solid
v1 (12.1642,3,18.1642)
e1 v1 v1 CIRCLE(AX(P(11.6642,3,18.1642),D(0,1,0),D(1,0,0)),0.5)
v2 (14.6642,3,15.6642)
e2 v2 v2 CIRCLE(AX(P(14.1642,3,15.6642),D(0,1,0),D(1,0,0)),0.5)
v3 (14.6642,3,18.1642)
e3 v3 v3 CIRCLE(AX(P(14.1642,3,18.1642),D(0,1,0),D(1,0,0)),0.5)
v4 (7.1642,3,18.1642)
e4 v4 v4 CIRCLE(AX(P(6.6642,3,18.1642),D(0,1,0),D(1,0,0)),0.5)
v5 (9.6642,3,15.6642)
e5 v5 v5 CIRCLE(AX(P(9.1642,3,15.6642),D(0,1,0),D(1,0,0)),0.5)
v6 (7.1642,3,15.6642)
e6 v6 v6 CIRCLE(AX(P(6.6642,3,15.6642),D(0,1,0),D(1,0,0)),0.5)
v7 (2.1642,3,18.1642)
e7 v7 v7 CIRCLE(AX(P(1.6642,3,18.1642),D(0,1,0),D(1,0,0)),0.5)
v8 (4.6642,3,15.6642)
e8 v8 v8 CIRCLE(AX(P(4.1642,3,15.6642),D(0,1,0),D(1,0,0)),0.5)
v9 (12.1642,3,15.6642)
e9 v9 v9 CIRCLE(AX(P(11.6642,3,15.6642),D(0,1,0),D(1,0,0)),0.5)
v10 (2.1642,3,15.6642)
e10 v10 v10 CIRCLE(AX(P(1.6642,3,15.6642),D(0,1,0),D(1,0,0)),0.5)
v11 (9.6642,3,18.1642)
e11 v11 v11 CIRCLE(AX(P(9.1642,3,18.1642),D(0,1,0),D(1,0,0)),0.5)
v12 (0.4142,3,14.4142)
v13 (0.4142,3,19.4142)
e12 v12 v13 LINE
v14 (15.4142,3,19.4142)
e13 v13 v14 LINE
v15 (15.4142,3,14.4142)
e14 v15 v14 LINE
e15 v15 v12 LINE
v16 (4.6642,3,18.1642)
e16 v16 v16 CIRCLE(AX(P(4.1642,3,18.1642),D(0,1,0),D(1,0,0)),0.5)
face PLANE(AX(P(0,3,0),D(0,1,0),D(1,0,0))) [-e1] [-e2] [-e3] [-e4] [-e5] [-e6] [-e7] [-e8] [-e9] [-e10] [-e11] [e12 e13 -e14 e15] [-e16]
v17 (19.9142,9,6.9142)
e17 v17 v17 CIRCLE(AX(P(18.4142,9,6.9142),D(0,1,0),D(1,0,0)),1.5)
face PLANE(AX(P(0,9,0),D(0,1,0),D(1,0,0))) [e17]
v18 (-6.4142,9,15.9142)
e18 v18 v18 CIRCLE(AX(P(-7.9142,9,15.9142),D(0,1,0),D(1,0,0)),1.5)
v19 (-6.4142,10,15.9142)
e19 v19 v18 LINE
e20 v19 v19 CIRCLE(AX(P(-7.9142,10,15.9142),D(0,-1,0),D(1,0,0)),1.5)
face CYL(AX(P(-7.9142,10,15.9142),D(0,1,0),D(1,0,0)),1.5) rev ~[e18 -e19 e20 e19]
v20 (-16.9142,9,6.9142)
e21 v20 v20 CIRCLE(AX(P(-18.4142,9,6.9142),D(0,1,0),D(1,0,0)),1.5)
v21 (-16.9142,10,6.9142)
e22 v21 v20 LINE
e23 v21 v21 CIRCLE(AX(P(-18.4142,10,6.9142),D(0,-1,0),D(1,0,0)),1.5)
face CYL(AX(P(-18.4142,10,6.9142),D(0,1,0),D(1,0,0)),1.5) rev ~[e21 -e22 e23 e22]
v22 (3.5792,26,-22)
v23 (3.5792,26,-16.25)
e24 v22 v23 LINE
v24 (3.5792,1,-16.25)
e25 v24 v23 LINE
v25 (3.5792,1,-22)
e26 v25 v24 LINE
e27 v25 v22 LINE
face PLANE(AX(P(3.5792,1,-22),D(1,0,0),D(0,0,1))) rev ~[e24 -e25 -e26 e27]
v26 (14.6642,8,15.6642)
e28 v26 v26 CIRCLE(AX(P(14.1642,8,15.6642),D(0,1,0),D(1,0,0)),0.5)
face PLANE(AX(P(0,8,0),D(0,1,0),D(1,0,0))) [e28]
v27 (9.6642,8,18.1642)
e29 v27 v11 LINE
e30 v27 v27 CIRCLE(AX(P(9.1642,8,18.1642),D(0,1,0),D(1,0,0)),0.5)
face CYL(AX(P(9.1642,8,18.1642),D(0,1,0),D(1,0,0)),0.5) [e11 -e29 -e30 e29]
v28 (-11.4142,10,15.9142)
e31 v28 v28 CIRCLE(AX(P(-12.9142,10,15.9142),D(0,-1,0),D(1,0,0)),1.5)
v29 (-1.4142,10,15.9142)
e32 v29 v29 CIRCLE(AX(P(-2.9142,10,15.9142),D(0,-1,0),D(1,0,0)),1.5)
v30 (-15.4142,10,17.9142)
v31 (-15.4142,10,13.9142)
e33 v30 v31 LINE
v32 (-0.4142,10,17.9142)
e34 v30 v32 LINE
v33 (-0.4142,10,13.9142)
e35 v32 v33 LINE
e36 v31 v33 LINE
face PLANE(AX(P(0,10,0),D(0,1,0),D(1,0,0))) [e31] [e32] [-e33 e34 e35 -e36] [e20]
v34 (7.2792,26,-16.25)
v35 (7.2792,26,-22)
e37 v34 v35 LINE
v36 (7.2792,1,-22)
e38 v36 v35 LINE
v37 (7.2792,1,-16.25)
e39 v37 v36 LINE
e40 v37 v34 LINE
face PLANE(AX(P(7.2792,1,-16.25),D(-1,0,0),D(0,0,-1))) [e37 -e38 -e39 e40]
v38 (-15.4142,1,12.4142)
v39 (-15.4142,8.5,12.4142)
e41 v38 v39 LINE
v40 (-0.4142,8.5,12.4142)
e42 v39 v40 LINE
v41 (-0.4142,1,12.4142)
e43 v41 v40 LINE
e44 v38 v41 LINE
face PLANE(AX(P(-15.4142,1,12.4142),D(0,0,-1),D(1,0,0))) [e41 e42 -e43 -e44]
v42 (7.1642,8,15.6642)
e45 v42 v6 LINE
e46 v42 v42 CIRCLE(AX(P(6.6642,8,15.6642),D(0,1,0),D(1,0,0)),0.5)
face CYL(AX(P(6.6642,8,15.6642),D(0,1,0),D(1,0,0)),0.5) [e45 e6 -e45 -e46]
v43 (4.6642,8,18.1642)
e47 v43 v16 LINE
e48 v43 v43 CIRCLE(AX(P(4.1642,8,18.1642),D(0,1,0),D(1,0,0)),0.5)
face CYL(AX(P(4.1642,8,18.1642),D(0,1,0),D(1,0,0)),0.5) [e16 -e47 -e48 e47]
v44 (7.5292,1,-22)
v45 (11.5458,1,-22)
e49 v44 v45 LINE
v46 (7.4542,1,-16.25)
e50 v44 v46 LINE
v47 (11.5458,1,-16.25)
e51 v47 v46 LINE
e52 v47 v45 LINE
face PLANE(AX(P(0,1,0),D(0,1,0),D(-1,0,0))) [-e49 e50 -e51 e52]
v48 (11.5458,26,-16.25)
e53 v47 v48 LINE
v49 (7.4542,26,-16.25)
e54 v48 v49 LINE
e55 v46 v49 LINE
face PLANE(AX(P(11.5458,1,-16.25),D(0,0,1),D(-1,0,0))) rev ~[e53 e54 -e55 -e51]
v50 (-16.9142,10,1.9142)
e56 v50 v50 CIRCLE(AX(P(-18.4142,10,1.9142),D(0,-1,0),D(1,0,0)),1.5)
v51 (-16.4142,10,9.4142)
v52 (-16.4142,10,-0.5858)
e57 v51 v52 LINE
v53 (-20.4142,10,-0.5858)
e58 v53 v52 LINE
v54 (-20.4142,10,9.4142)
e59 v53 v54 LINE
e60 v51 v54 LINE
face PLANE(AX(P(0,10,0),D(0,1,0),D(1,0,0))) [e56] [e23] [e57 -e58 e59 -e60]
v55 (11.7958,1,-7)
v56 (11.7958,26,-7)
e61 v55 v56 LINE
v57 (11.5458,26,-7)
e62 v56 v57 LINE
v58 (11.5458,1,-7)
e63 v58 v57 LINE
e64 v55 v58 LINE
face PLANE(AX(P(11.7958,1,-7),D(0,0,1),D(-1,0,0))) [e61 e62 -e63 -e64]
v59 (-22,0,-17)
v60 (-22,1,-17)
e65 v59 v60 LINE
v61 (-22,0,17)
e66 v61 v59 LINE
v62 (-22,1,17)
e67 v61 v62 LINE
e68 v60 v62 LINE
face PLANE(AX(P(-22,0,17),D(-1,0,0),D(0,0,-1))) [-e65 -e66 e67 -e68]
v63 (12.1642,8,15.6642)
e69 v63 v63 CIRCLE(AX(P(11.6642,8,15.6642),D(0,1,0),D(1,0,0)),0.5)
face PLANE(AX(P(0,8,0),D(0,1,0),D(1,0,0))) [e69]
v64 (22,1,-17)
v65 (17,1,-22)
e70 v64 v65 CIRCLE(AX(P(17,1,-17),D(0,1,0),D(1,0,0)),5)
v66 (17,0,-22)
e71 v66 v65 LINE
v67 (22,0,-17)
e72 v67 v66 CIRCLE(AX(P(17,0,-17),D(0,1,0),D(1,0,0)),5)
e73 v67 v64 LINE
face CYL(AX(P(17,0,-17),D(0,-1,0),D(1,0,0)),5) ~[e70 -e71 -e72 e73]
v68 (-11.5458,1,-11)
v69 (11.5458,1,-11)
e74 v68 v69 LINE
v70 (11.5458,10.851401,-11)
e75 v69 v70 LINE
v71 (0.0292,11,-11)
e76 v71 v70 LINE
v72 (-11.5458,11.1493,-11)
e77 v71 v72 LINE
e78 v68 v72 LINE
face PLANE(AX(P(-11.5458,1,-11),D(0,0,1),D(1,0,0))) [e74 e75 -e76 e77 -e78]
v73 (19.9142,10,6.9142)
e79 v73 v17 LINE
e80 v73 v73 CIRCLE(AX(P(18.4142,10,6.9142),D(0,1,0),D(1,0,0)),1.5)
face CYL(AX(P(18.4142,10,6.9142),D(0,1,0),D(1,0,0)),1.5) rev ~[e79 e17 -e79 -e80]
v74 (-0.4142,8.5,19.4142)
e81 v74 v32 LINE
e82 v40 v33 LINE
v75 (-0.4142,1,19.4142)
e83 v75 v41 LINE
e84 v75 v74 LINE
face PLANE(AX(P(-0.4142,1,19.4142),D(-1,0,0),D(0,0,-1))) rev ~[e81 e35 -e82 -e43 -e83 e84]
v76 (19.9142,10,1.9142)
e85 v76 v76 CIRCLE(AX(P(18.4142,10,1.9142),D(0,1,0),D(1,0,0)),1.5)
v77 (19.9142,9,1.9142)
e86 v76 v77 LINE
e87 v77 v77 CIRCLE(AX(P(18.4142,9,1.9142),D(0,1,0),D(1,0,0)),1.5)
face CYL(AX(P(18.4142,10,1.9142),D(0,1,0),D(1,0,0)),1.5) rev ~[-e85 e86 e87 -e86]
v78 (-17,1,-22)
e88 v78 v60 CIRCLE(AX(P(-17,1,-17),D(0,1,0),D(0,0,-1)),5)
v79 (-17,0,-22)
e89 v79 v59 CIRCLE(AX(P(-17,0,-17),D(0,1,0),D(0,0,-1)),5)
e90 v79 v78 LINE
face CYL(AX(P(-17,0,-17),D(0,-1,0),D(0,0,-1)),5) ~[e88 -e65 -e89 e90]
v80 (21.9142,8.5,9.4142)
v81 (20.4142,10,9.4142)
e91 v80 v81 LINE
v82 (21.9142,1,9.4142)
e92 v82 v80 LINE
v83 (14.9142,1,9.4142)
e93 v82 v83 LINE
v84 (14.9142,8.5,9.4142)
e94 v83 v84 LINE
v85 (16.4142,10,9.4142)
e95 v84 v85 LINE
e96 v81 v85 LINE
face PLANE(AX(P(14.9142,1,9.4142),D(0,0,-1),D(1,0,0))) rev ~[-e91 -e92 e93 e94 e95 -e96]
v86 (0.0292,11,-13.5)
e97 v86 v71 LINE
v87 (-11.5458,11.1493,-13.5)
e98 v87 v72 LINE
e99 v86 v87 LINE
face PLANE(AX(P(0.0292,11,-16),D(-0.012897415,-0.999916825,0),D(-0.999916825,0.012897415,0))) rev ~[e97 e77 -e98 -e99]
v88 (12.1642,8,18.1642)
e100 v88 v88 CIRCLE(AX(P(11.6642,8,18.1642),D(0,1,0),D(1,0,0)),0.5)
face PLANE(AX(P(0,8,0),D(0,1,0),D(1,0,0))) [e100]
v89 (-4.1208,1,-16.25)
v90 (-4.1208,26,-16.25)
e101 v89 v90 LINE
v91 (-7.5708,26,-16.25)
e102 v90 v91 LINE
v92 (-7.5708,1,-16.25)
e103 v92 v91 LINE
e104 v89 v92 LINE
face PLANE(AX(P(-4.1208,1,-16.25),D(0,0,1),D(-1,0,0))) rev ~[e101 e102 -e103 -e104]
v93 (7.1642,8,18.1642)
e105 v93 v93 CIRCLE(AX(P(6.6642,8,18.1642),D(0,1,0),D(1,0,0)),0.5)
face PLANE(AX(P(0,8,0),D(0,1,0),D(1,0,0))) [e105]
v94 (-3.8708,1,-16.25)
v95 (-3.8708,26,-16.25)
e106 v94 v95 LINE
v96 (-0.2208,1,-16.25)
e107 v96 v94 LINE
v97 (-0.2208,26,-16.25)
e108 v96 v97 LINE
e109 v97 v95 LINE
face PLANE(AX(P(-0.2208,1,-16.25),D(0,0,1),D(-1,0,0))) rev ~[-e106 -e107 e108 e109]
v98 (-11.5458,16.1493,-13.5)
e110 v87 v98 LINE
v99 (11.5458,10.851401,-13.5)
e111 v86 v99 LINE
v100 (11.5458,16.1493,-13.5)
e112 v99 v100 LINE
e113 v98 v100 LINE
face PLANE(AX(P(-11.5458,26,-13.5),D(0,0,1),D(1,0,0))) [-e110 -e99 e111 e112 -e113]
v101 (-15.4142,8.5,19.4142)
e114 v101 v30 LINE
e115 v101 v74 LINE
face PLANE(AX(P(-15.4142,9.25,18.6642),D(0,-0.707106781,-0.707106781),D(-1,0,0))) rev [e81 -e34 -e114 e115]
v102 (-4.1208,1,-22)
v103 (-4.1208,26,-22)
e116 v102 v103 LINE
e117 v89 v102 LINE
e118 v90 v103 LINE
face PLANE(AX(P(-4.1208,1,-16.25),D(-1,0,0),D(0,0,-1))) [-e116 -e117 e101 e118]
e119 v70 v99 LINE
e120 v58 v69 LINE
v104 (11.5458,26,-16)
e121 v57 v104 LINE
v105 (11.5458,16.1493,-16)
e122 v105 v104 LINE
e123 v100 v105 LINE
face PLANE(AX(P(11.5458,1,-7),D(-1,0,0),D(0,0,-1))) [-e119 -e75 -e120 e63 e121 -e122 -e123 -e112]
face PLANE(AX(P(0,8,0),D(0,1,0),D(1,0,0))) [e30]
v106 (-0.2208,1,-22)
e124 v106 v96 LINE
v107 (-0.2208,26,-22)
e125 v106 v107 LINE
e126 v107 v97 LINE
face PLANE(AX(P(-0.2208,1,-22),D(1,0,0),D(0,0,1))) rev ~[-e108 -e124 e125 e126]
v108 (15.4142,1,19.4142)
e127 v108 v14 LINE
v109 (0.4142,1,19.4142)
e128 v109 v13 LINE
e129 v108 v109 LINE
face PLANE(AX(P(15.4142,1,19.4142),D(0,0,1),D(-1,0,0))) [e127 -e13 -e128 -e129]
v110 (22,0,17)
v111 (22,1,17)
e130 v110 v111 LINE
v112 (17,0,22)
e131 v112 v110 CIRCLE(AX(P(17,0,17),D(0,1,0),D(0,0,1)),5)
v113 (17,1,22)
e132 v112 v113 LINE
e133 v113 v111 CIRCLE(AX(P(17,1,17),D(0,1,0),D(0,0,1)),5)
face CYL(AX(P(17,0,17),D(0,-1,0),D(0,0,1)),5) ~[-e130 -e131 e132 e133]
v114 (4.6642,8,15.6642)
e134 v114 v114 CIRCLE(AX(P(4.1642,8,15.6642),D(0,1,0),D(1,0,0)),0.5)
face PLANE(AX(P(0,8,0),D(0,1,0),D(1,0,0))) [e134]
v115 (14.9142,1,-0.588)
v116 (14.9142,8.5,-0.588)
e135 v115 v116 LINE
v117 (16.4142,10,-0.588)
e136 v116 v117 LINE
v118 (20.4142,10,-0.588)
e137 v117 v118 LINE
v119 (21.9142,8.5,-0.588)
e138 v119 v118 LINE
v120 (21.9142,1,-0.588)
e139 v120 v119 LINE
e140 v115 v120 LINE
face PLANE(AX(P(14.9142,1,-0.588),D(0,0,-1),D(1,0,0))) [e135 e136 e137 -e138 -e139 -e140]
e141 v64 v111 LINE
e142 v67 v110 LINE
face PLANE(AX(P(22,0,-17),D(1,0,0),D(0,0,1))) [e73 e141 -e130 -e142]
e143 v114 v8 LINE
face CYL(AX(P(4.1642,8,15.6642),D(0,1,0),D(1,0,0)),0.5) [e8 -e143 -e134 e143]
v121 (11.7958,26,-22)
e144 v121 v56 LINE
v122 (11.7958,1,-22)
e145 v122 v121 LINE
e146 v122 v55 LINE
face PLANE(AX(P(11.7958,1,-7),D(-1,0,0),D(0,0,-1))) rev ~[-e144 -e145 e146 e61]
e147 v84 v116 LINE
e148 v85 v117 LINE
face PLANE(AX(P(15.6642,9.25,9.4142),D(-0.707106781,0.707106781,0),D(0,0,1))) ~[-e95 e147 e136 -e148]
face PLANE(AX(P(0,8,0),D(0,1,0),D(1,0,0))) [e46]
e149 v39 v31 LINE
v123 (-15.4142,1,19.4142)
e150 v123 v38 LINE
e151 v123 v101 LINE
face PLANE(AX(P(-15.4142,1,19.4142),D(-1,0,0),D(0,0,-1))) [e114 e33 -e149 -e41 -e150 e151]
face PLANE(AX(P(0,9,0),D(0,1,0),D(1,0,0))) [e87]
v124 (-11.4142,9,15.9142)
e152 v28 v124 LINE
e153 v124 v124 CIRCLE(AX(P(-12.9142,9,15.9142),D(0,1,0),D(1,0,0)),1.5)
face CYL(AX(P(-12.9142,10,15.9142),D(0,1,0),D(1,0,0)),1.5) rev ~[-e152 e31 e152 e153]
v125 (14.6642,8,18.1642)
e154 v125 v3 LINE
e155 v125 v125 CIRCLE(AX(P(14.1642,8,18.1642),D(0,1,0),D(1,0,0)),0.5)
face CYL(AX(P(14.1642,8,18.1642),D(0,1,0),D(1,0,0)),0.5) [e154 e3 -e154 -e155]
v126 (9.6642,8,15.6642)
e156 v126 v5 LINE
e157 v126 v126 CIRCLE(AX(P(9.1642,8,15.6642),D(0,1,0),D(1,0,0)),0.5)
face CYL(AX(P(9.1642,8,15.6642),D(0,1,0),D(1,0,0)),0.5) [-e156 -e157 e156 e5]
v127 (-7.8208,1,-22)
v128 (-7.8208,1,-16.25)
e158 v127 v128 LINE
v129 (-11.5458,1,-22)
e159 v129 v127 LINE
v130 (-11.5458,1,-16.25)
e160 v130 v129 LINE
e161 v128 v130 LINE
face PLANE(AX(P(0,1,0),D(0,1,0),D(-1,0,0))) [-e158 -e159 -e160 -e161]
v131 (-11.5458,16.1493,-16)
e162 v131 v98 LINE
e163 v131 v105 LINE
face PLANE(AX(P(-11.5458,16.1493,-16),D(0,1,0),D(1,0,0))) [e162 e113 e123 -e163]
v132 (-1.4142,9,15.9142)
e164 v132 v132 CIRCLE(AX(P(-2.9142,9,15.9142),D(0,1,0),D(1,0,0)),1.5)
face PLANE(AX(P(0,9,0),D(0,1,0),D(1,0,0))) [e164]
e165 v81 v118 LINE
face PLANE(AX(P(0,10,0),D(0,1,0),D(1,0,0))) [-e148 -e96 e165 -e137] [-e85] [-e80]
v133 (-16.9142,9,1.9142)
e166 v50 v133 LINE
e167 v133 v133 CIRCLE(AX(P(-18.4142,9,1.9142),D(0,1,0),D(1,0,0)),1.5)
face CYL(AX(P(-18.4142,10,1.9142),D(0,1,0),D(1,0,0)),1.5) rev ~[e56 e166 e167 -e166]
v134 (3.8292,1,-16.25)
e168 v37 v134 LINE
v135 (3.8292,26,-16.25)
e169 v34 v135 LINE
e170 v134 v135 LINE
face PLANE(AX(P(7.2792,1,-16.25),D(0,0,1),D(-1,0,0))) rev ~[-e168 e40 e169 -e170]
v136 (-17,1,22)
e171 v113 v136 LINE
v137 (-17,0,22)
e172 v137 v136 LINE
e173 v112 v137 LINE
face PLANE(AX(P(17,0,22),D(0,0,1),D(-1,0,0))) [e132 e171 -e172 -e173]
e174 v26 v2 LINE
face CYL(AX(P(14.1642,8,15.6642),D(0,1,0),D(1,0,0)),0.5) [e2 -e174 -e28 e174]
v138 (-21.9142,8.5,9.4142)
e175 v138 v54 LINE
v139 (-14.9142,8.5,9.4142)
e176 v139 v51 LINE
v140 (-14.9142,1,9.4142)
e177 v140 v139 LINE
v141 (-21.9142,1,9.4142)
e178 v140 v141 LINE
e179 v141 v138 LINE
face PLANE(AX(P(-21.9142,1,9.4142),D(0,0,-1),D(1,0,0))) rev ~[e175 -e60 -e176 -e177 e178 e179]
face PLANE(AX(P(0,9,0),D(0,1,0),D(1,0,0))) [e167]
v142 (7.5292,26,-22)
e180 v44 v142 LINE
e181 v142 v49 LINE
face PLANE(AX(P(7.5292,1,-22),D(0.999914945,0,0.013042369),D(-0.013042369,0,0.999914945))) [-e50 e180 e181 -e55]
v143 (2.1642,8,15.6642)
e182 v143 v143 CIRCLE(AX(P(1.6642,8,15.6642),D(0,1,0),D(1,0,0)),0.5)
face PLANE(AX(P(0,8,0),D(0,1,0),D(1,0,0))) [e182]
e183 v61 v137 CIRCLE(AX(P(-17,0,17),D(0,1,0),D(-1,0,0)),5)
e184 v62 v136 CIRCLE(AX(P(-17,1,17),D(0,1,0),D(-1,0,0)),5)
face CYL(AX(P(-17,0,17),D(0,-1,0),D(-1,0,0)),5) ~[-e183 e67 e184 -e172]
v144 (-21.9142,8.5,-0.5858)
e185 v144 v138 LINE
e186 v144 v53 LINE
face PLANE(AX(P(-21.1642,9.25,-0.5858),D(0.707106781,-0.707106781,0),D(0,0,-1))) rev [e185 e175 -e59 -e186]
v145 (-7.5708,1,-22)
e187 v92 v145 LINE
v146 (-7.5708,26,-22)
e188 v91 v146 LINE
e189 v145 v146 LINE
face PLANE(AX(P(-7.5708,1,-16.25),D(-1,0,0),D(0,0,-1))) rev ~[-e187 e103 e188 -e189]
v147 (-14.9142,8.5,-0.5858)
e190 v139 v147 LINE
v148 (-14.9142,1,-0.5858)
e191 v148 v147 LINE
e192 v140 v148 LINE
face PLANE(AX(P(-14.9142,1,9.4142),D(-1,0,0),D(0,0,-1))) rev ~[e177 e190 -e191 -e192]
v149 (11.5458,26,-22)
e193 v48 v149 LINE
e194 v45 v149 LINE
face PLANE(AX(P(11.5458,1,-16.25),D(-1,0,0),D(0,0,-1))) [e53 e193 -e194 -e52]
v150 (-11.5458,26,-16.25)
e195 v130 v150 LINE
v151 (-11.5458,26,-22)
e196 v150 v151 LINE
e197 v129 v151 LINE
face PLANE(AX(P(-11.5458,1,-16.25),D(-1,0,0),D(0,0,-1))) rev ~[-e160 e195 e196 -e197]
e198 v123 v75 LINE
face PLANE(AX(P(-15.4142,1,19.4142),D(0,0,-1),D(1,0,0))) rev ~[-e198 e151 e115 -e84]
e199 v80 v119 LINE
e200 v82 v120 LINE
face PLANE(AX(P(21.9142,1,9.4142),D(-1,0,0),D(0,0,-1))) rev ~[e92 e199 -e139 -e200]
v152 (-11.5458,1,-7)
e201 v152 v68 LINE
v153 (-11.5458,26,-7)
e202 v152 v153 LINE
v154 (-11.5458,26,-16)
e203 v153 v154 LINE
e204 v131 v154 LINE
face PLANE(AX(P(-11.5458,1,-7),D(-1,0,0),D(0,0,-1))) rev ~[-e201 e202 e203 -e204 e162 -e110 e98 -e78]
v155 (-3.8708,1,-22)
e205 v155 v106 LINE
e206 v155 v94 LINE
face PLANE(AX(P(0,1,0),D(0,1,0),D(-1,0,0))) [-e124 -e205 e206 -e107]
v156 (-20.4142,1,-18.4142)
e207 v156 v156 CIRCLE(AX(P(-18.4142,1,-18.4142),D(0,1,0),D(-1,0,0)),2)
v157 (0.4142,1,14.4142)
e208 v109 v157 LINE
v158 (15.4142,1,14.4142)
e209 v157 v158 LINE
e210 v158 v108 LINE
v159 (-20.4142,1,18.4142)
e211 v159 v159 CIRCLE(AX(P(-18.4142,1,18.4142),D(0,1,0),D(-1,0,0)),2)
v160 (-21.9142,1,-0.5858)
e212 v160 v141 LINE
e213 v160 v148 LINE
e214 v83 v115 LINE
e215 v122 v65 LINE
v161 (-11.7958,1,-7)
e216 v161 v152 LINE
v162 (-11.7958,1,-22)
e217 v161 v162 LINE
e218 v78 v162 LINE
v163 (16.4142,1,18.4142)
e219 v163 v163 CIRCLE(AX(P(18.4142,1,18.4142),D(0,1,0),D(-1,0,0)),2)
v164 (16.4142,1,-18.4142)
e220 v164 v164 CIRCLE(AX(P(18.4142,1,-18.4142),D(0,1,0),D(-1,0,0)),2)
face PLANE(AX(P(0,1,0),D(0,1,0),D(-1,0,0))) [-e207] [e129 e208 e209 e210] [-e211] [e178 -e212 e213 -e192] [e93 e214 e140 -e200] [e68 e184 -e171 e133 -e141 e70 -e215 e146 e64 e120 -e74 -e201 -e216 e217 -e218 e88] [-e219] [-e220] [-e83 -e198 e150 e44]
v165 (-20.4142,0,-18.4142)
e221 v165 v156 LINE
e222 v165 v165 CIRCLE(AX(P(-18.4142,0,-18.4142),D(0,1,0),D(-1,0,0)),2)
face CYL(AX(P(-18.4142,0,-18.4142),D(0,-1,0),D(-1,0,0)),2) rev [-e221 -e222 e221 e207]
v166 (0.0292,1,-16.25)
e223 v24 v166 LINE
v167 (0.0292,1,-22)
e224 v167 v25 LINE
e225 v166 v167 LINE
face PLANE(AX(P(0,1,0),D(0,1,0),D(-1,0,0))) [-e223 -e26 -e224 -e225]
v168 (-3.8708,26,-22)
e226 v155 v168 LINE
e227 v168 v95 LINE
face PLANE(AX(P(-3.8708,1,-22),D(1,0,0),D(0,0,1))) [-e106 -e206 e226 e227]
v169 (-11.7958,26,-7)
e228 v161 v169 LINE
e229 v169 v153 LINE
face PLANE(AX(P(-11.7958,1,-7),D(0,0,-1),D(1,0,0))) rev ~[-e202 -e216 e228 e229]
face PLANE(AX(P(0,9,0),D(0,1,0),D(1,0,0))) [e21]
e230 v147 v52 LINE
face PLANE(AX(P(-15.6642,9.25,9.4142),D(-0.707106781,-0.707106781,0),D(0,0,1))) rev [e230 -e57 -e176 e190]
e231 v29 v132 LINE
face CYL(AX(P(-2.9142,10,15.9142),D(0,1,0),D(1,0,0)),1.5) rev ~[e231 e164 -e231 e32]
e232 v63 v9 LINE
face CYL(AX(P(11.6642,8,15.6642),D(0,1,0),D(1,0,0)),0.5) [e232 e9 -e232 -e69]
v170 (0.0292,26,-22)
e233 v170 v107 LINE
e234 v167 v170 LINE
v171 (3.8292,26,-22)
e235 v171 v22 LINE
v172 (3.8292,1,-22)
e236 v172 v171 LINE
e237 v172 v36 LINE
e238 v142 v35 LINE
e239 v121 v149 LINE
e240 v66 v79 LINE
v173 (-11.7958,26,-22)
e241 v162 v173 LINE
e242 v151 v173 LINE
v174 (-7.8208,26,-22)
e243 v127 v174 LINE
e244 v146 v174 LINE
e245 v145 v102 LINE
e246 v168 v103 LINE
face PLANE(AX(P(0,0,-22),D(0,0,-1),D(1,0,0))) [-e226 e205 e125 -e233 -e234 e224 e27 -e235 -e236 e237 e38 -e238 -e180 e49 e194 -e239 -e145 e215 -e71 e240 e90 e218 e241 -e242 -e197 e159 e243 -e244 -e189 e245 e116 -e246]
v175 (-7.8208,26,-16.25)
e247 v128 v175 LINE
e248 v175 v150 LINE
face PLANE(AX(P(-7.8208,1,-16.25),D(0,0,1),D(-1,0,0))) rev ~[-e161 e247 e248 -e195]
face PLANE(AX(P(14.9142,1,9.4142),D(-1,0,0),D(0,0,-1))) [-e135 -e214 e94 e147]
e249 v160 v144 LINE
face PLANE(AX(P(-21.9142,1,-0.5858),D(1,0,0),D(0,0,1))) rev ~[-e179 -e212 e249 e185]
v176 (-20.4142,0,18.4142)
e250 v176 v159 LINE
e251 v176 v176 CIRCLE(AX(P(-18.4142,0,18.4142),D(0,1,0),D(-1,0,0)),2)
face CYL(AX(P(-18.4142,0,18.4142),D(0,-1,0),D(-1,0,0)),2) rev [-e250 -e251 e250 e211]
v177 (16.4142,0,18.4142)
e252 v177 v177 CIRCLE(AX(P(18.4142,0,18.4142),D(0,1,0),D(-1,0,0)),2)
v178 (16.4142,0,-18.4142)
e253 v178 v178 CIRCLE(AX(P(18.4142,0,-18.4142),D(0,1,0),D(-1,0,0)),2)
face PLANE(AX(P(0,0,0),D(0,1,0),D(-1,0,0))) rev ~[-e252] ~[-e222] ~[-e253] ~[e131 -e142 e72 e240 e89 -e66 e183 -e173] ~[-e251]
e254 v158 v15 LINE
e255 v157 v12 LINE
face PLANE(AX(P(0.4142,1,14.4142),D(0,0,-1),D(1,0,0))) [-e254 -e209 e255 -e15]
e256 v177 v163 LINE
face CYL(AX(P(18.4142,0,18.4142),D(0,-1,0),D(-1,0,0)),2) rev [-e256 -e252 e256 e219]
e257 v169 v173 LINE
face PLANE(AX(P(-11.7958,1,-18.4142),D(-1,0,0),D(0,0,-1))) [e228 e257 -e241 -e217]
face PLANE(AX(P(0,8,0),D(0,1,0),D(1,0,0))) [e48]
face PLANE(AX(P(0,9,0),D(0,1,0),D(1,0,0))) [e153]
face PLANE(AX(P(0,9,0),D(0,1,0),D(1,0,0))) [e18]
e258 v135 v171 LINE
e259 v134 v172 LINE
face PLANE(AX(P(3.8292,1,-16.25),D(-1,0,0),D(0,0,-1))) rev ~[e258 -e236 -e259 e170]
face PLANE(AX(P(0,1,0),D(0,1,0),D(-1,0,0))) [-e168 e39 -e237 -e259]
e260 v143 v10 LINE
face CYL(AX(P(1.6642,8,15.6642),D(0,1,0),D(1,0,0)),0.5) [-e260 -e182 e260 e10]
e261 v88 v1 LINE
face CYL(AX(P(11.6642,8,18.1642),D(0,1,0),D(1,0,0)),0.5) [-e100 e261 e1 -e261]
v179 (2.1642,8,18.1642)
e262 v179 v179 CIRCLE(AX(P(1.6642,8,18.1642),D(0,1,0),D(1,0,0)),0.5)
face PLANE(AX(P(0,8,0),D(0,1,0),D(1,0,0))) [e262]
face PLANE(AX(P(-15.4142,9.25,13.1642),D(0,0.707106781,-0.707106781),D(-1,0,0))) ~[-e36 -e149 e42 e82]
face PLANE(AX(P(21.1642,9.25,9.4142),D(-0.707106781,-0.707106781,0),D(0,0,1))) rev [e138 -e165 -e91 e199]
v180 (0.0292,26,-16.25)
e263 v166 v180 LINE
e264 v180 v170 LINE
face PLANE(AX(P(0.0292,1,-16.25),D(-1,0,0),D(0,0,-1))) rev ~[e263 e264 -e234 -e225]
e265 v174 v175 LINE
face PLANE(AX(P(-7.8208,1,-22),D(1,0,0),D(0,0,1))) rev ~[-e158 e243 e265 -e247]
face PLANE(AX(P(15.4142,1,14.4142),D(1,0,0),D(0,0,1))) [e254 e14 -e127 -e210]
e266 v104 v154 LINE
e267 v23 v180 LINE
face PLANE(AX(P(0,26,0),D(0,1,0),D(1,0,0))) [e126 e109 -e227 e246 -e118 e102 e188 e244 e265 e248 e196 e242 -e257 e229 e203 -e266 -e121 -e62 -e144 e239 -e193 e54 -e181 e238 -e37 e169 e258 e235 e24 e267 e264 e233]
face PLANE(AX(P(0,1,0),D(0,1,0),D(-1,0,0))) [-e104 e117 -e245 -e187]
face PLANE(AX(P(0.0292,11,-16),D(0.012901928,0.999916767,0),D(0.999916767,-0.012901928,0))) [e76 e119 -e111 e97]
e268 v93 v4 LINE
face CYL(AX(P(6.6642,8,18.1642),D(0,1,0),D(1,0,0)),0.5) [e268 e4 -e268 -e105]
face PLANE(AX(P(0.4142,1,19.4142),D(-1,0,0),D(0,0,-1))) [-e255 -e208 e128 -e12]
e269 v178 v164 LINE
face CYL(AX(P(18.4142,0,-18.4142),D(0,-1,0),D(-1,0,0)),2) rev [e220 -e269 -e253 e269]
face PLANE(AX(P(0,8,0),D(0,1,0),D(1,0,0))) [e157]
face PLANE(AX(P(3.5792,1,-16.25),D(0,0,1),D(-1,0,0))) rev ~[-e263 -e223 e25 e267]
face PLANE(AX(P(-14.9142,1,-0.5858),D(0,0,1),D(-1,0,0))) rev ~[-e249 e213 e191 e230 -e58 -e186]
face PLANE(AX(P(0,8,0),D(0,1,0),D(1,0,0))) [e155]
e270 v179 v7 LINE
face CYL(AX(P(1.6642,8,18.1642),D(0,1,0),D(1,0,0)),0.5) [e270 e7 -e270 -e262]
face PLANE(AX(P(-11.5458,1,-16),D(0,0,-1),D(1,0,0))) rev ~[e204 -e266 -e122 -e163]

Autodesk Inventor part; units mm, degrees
ref_plane "YZ Plane" through (0, 0, 0) normal (1, 0, 0) x (0, 1, 0)
ref_plane "XZ Plane" through (0, 0, 0) normal (0, 1, 0) x (-1, 0, 0)
ref_plane "XY Plane" through (0, 0, 0) normal (0, 0, 1) x (1, 0, 0)
sketch "Esboço6" plane through (0, 0, 0) normal (0, 1, 0) x (-1, 0, 0)
  line L0 (0, -22) -> (-17, -22)
  line L1 (-22, -17) -> (-22, 17)
  line L2 (-17, 22) -> (17, 22)
  line L3 (22, 17) -> (22, -15.5)
  line L4 (15.5, -22) -> (0, -22)
  arc A0 (-22, -17) -> (-17, -22) centre (-17, -17) ccw
  arc A1 (-17, 22) -> (-22, 17) centre (-17, 17) ccw
  arc A2 (22, 17) -> (17, 22) centre (17, 17) ccw
  line L5 (15.5, -22) -> (17, -22)
  line L6 (22, -15.5) -> (22, -17)
  arc A3 (17, -22) -> (22, -17) centre (17, -17) ccw
  circle A4 centre (18.4142, -18.4142) radius 2
  circle A5 centre (18.4142, 18.4142) radius 2
  circle A6 centre (-18.4142, 18.4142) radius 2
  circle A7 centre (-18.4142, -18.4142) radius 2
  point P0 (0, 0)
  point P1 (-22, -22)
  point P2 (-22, 22)
  point P3 (22, 22)
  point P4 (22, -22)
  dimension "d23" = 22
  dimension "d24" = 22
  dimension "d25" = 44
  dimension "d26" = 44
  dimension "d28" = 5
  dimension "d29" = 5
  dimension "d31" = 4
  dimension "d35" = 4
  dimension "d36" = 4
  dimension "d37" = 4
extrude "Extrusão4" add sketch "Esboço6" along normal blind 1
sketch "Esboço7" plane through (0, 1, 0) normal (0, 1, 0) x (1, 0, 0)
  circle A0 centre (-18.4142, -18.4142) radius 2 projected
  line L0 (-18.4142, -18.4142) -> (-16.4142, -18.4142)
  line L1 (-16.4142, -18.4142) -> (-16.4142, -19.4142)
  line L2 (-16.4142, -19.4142) -> (-15.4142, -19.4142)
  line L3 (-15.4142, -19.4142) -> (-0.4142, -19.4142)
  line L4 (-0.4142, -19.4142) -> (-0.4142, -12.4142)
  line L5 (-15.4142, -19.4142) -> (-15.4142, -12.4142)
  line L6 (-15.4142, -12.4142) -> (-0.4142, -12.4142)
  point P0 (0, 0)
  dimension "d40" = 1
  dimension "d41" = 1
  dimension "d42" = 15
  dimension "d43" = 7
extrude "Extrusão5" add sketch "Esboço7" along normal blind 9 contours L5 L6 L4 L3
chamfer "Chanfro1" distance 1.5 angle 45 2 edges at (-7.9142, 10, 19.4142) (-7.9142, 10, 12.4142)
sketch "Esboço8" plane through (0, 10, 0) normal (0, 1, 0) x (1, 0, 0)
  line L0 (-0.4142, -17.9142) -> (-0.4142, -13.9142) projected
  line L1 (-0.4142, -15.9142) -> (-15.4142, -15.9142)
  line L2 (-15.4142, -13.9142) -> (-15.4142, -17.9142) projected
  line L3 (-0.4142, -15.9142) -> (-5.4142, -15.9142)
  line L4 (-5.4142, -15.9142) -> (-10.4142, -15.9142)
  line L5 (-10.4142, -15.9142) -> (-15.4142, -15.9142)
  circle A0 centre (-2.9142, -15.9142) radius 1.5
  circle A1 centre (-7.9142, -15.9142) radius 1.5
  circle A2 centre (-12.9142, -15.9142) radius 1.5
  point P0 (0, 0)
  dimension "d49" = 5
  dimension "d50" = 5
  dimension "d51" = 3
  dimension "d52" = 3
  dimension "d53" = 3
extrude "Extrusão6" cut sketch "Esboço8" against normal blind 1
sketch "Esboço9" plane through (0, 1, 0) normal (0, 1, 0) x (1, 0, 0)
  circle A0 centre (18.4142, -18.4142) radius 2 projected
  line L0 (18.4142, -18.4142) -> (16.4142, -18.4142)
  line L1 (16.4142, -18.4142) -> (16.4142, -19.4142)
  line L2 (16.4142, -19.4142) -> (15.4142, -19.4142)
  line L3 (15.4142, -19.4142) -> (0.4142, -19.4142)
  line L4 (0.4142, -19.4142) -> (0.4142, -14.4142)
  line L5 (0.4142, -14.4142) -> (15.4142, -14.4142)
  line L6 (15.4142, -14.4142) -> (15.4142, -19.4142)
  point P0 (0, 0)
  dimension "d56" = 1
  dimension "d57" = 1
  dimension "d58" = 15
  dimension "d59" = 5
extrude "Extrusão7" add sketch "Esboço9" along normal blind 7 contours L3 L4 L5 L6
sketch "Esboço11" plane through (0, 8, 0) normal (0, 1, 0) x (1, 0, 0)
  line L0 (0.4142, -19.4142) -> (0.4142, -14.4142) projected
  line L1 (0.4142, -19.4142) -> (0.4142, -14.4142)
  line L2 (0.4142, -14.4142) -> (0.4142, -16.9142)
  line L3 (0.4142, -16.9142) -> (15.4142, -16.9142)
  line L4 (15.4142, -19.4142) -> (15.4142, -14.4142) projected
  line L5 (0.4142, -19.4142) -> (0.4142, -16.9142)
  circle A0 centre (1.6642, -18.1642) radius 0.5
  circle A1 centre (4.1642, -18.1642) radius 0.5
  circle A2 centre (6.6642, -18.1642) radius 0.5
  circle A3 centre (9.1642, -18.1642) radius 0.5
  circle A4 centre (11.6642, -18.1642) radius 0.5
  circle A5 centre (14.1642, -18.1642) radius 0.5
  circle A6 centre (1.6642, -15.6642) radius 0.5
  circle A7 centre (4.1642, -15.6642) radius 0.5
  circle A8 centre (6.6642, -15.6642) radius 0.5
  circle A9 centre (9.1642, -15.6642) radius 0.5
  circle A10 centre (11.6642, -15.6642) radius 0.5
  circle A11 centre (14.1642, -15.6642) radius 0.5
  line L6 (15.4142, -14.4142) -> (0.4142, -14.4142) projected
  line L7 (0.4142, -14.4142) -> (15.4142, -14.4142)
  line L8 (15.4142, -14.4142) -> (15.4142, -16.9142)
  line L9 (15.4142, -19.4142) -> (15.4142, -16.9142)
  line L10 (0.4142, -14.4142) -> (0.4142, -19.4142) projected
  line L11 (0.4142, -19.4142) -> (15.4142, -19.4142) projected
  line L12 (0.4142, -19.4142) -> (15.4142, -19.4142)
  point P0 (0, 0)
  dimension "d68" = 1
  dimension "d69" = 1
  dimension "d70" = 1
  dimension "d71" = 1
  dimension "d72" = 1
  dimension "d73" = 1
extrude "Extrusão8" cut sketch "Esboço11" against normal blind 5
sketch "Esboço12" plane through (0, 1, 0) normal (0, 1, 0) x (1, 0, 0)
  circle A0 centre (-18.4142, -18.4142) radius 2 projected
  line L0 (-18.4142, -9.4142) -> (-14.9142, -9.4142)
  line L1 (-14.9142, -9.4142) -> (-14.9142, 0.5858)
  line L2 (-14.9142, 0.5858) -> (-18.4142, 0.5858)
  line L3 (-22, 17) -> (-22, -17) projected
  line L4 (-18.4142, 0.5858) -> (-21.9142, 0.5858)
  line L5 (-21.9142, 0.5858) -> (-21.9142, -9.4142)
  line L6 (-21.9142, -9.4142) -> (-18.4142, -9.4142)
  point P0 (0, 0)
  dimension "d77" = 10
  dimension "d78" = 3.5
  dimension "d79" = 3.5
extrude "Extrusão9" add sketch "Esboço12" along normal blind 9 contours L6 L5 L4 L2 L1 L0
sketch "Esboço13" plane through (0, 10, 0) normal (0, 1, 0) x (1, 0, 0)
  line L0 (-14.9142, 0.5858) -> (-21.9142, 0.5858) projected
  line L1 (-18.4142, 0.5858) -> (-18.4142, -1.9142)
  line L2 (-18.4142, -1.9142) -> (-18.4142, -4.4142)
  line L3 (-18.4142, -4.4142) -> (-18.4142, -6.9142)
  circle A0 centre (-18.4142, -1.9142) radius 1.5
  circle A1 centre (-18.4142, -6.9142) radius 1.5
  point P0 (0, 0)
  point P1 (-16.9142, 0.5858)
  point P2 (-19.9142, 0.5858)
  dimension "d83" = 2.5
  dimension "d84" = 2.5
  dimension "d85" = 2.5
  dimension "d86" = 3
  dimension "d87" = 3
extrude "Extrusão10" cut sketch "Esboço13" against normal blind 1
chamfer "Chanfro2" distance 1.5 angle 45 2 edges at (-14.9142, 10, 4.4142) (-21.9142, 10, 4.4142)
sketch "Esboço14" plane through (0, 1, 0) normal (0, 1, 0) x (1, 0, 0)
  line L0 (-14.9142, 0.5858) -> (-14.9142, -9.4142) projected
  line L1 (-14.9142, -9.4142) -> (22, -9.4142)
  line L2 (22, -17) -> (22, 17) projected
  line L3 (-14.9142, 0.588) -> (22, 0.588)
  circle A0 centre (18.4142, -18.4142) radius 2 projected
  line L4 (18.4142, -9.4142) -> (21.9142, -9.4142)
  line L5 (21.9142, -9.4142) -> (21.9142, 0.588)
  line L6 (18.4142, -9.4142) -> (14.9142, -9.4142)
  line L7 (14.9142, -9.4142) -> (14.9142, 0.588)
  line L8 (21.9142, 0.588) -> (14.9142, 0.588)
  point P0 (0, 0)
  dimension "d93" = 3.5
  dimension "d94" = 3.5
extrude "Extrusão11" add sketch "Esboço14" along normal blind 9 contours L7 L3 L5 L1
chamfer "Chanfro3" distance 1.5 angle 45 2 edges at (21.9142, 10, 4.4131) (14.9142, 10, 4.4131)
sketch "Esboço16" plane through (0, 10, 0) normal (0, 1, 0) x (1, 0, 0)
  circle A0 centre (-18.4142, -1.9142) radius 1.5 projected
  line L0 (20.4142, 0.588) -> (20.4142, -9.4142) projected
  circle A1 centre (-18.4142, -6.9142) radius 1.5 projected
  circle A2 centre (18.4142, -6.9142) radius 1.5
  circle A3 centre (18.4142, -1.9142) radius 1.5
  point P0 (0, 0)
  dimension "d101" = 3
  dimension "d102" = 3
extrude "Extrusão12" cut sketch "Esboço16" against normal blind 1 contours A2 | A3
sketch "Esboço17" plane through (0, 1, 0) normal (0, 1, 0) x (1, 0, 0)
  circle A0 centre (-18.4142, 18.4142) radius 2 projected
  arc A1 (-17, 22) -> (-22, 17) centre (-17, 17) ccw projected
  circle A2 centre (18.4142, 18.4142) radius 2 projected
  arc A3 (22, 17) -> (17, 22) centre (17, 17) ccw projected
  line L0 (-11.7958, 18.4142) -> (-11.7958, 22)
  line L1 (17, 22) -> (-17, 22) projected
  line L2 (11.7958, 18.4142) -> (11.7958, 22)
  line L3 (-11.7958, 22) -> (-11.7958, 7)
  line L4 (11.7958, 7) -> (11.7958, 22)
  line L5 (-11.7958, 22) -> (11.7958, 22)
  line L6 (-10.7958, 16) -> (10.7958, 16)
  line L7 (-11.2958, 16) -> (10.7958, 16)
  line L8 (10.7958, 16) -> (11.2958, 16)
  line L9 (-11.7958, 7) -> (-11.5458, 7)
  line L10 (-11.5458, 7) -> (-11.5458, 16)
  line L11 (-11.5458, 16) -> (-11.2958, 16)
  line L12 (11.7958, 7) -> (11.5458, 7)
  line L13 (11.5458, 7) -> (11.5458, 16)
  line L14 (11.5458, 16) -> (11.2958, 16)
  line L15 (-11.5458, 16.25) -> (-11.5458, 22)
  line L16 (-11.7958, 22) -> (-11.5458, 22)
  line L17 (11.5458, 16.25) -> (11.5458, 22)
  line L18 (7.2792, 16.25) -> (7.2792, 22)
  line L19 (7.2792, 22) -> (7.5292, 22)
  line L20 (7.5292, 22) -> (7.4542, 16.25)
  line L21 (3.8292, 16.25) -> (3.8292, 22)
  line L22 (3.8292, 22) -> (3.5792, 22)
  line L23 (3.5792, 22) -> (3.5792, 16.25)
  line L24 (0.0292, 16.25) -> (0.0292, 22)
  line L25 (0.0292, 22) -> (-0.2208, 22)
  line L26 (-0.2208, 22) -> (-0.2208, 16.25)
  line L27 (-4.1208, 16.25) -> (-4.1208, 22)
  line L28 (-4.1208, 22) -> (-3.8708, 22)
  line L29 (-3.8708, 22) -> (-3.8708, 16.25)
  line L30 (-7.5708, 16.25) -> (-7.5708, 22)
  line L31 (-7.5708, 22) -> (-7.8208, 22)
  line L32 (-7.8208, 22) -> (-7.8208, 16.25)
  line L33 (11.5458, 16.25) -> (7.4542, 16.25)
  line L34 (7.2792, 16.25) -> (3.8292, 16.25)
  line L35 (3.5792, 16.25) -> (0.0292, 16.25)
  line L36 (-0.2208, 16.25) -> (-3.8708, 16.25)
  line L37 (-4.1208, 16.25) -> (-7.5708, 16.25)
  line L38 (-7.8208, 16.25) -> (-11.5458, 16.25)
  point P0 (0, 0)
  dimension "d107" = 15
  dimension "d122" = 0.25
  dimension "d124" = 0.25
  dimension "d126" = 0.25
  dimension "d128" = 0.25
  dimension "d130" = 0.25
extrude "Extrusão13" add sketch "Esboço17" along normal blind 25 contours L0 L1 L15 L38 L32 L30 L37 L27 L29 L36 L26 L24 L35 L23 L21 L34 L18 L20 L33 L17 L2 L4 L12 L13 L14 L8 L6 L7 L11 L10 L9 L3
sketch "Esboço20" plane through (-11.5458, 1, -16) normal (0, 0, 1) x (1, 0, 0)
  line L0 (23.0917, 0) -> (0, 0) projected
  line L1 (11.575, 10) -> (0, 10.1493)
  line L2 (0, 0) -> (0, 25) projected
  line L3 (11.575, 10) -> (23.0917, 9.8514)
  line L4 (23.0917, 0) -> (23.0917, 25) projected
  line L5 (23.0917, 9.8514) -> (23.0917, 0)
  line L6 (23.0917, 0) -> (11.575, 0)
  line L7 (0, 10.1493) -> (0, 0)
  line L8 (11.575, 0) -> (15.125, 0) projected
  line L9 (0, 0) -> (11.575, 0)
  line L10 (11.575, 0) -> (0, 0)
  point P0 (11.5458, -1)
extrude "Extrusão14" add sketch "Esboço20" along normal blind 5
sketch "Esboço21" plane through (-11.5458, 26, -16) normal (0, 0, 1) x (1, 0, 0)
  line L0 (0, -14.8507) -> (0, -9.8507)
  line L1 (0, -14.8507) -> (0, 0) projected
  line L2 (0, -9.8507) -> (23.0917, -9.8507)
  line L3 (23.0917, -15.1486) -> (23.0917, 0) projected
  line L4 (23.0917, -9.8507) -> (23.0917, -15.1486)
  line L5 (23.0917, -15.1486) -> (0.4734, -14.8507)
  line L6 (0, -14.8507) -> (23.0917, -15.1486) projected
  line L7 (23.0917, -15.1486) -> (0, -14.8507)
  point P0 (11.5458, -26)
  dimension "d136" = 5
extrude "Extrusão15" add sketch "Esboço21" along normal blind 2.5
equation "\"Raio_vergadura\" = Espessura"
equation "\"Largura_alívio_de_vergadura\" = Espessura"
equation "\"Profundidade_alívio_de_vergadura\" = 0.5 * Espessura"
equation "\"Tamanho_alívio_de_dobra\" = 4 * Espessura"
equation "\"Remanescente_mínimo\" = 2 * Espessura"
equation "\"Raiodetransição\" = Raio_vergadura"
equation "\"Tamanho_de_raio_de_Jacobi\" = Raio_vergadura"
equation "\"TamanhoFolga\" = Espessura"
equation "\"Espessura\" = 0.5"
properties part number "Ponte_H" material "Alumínio 6061"
